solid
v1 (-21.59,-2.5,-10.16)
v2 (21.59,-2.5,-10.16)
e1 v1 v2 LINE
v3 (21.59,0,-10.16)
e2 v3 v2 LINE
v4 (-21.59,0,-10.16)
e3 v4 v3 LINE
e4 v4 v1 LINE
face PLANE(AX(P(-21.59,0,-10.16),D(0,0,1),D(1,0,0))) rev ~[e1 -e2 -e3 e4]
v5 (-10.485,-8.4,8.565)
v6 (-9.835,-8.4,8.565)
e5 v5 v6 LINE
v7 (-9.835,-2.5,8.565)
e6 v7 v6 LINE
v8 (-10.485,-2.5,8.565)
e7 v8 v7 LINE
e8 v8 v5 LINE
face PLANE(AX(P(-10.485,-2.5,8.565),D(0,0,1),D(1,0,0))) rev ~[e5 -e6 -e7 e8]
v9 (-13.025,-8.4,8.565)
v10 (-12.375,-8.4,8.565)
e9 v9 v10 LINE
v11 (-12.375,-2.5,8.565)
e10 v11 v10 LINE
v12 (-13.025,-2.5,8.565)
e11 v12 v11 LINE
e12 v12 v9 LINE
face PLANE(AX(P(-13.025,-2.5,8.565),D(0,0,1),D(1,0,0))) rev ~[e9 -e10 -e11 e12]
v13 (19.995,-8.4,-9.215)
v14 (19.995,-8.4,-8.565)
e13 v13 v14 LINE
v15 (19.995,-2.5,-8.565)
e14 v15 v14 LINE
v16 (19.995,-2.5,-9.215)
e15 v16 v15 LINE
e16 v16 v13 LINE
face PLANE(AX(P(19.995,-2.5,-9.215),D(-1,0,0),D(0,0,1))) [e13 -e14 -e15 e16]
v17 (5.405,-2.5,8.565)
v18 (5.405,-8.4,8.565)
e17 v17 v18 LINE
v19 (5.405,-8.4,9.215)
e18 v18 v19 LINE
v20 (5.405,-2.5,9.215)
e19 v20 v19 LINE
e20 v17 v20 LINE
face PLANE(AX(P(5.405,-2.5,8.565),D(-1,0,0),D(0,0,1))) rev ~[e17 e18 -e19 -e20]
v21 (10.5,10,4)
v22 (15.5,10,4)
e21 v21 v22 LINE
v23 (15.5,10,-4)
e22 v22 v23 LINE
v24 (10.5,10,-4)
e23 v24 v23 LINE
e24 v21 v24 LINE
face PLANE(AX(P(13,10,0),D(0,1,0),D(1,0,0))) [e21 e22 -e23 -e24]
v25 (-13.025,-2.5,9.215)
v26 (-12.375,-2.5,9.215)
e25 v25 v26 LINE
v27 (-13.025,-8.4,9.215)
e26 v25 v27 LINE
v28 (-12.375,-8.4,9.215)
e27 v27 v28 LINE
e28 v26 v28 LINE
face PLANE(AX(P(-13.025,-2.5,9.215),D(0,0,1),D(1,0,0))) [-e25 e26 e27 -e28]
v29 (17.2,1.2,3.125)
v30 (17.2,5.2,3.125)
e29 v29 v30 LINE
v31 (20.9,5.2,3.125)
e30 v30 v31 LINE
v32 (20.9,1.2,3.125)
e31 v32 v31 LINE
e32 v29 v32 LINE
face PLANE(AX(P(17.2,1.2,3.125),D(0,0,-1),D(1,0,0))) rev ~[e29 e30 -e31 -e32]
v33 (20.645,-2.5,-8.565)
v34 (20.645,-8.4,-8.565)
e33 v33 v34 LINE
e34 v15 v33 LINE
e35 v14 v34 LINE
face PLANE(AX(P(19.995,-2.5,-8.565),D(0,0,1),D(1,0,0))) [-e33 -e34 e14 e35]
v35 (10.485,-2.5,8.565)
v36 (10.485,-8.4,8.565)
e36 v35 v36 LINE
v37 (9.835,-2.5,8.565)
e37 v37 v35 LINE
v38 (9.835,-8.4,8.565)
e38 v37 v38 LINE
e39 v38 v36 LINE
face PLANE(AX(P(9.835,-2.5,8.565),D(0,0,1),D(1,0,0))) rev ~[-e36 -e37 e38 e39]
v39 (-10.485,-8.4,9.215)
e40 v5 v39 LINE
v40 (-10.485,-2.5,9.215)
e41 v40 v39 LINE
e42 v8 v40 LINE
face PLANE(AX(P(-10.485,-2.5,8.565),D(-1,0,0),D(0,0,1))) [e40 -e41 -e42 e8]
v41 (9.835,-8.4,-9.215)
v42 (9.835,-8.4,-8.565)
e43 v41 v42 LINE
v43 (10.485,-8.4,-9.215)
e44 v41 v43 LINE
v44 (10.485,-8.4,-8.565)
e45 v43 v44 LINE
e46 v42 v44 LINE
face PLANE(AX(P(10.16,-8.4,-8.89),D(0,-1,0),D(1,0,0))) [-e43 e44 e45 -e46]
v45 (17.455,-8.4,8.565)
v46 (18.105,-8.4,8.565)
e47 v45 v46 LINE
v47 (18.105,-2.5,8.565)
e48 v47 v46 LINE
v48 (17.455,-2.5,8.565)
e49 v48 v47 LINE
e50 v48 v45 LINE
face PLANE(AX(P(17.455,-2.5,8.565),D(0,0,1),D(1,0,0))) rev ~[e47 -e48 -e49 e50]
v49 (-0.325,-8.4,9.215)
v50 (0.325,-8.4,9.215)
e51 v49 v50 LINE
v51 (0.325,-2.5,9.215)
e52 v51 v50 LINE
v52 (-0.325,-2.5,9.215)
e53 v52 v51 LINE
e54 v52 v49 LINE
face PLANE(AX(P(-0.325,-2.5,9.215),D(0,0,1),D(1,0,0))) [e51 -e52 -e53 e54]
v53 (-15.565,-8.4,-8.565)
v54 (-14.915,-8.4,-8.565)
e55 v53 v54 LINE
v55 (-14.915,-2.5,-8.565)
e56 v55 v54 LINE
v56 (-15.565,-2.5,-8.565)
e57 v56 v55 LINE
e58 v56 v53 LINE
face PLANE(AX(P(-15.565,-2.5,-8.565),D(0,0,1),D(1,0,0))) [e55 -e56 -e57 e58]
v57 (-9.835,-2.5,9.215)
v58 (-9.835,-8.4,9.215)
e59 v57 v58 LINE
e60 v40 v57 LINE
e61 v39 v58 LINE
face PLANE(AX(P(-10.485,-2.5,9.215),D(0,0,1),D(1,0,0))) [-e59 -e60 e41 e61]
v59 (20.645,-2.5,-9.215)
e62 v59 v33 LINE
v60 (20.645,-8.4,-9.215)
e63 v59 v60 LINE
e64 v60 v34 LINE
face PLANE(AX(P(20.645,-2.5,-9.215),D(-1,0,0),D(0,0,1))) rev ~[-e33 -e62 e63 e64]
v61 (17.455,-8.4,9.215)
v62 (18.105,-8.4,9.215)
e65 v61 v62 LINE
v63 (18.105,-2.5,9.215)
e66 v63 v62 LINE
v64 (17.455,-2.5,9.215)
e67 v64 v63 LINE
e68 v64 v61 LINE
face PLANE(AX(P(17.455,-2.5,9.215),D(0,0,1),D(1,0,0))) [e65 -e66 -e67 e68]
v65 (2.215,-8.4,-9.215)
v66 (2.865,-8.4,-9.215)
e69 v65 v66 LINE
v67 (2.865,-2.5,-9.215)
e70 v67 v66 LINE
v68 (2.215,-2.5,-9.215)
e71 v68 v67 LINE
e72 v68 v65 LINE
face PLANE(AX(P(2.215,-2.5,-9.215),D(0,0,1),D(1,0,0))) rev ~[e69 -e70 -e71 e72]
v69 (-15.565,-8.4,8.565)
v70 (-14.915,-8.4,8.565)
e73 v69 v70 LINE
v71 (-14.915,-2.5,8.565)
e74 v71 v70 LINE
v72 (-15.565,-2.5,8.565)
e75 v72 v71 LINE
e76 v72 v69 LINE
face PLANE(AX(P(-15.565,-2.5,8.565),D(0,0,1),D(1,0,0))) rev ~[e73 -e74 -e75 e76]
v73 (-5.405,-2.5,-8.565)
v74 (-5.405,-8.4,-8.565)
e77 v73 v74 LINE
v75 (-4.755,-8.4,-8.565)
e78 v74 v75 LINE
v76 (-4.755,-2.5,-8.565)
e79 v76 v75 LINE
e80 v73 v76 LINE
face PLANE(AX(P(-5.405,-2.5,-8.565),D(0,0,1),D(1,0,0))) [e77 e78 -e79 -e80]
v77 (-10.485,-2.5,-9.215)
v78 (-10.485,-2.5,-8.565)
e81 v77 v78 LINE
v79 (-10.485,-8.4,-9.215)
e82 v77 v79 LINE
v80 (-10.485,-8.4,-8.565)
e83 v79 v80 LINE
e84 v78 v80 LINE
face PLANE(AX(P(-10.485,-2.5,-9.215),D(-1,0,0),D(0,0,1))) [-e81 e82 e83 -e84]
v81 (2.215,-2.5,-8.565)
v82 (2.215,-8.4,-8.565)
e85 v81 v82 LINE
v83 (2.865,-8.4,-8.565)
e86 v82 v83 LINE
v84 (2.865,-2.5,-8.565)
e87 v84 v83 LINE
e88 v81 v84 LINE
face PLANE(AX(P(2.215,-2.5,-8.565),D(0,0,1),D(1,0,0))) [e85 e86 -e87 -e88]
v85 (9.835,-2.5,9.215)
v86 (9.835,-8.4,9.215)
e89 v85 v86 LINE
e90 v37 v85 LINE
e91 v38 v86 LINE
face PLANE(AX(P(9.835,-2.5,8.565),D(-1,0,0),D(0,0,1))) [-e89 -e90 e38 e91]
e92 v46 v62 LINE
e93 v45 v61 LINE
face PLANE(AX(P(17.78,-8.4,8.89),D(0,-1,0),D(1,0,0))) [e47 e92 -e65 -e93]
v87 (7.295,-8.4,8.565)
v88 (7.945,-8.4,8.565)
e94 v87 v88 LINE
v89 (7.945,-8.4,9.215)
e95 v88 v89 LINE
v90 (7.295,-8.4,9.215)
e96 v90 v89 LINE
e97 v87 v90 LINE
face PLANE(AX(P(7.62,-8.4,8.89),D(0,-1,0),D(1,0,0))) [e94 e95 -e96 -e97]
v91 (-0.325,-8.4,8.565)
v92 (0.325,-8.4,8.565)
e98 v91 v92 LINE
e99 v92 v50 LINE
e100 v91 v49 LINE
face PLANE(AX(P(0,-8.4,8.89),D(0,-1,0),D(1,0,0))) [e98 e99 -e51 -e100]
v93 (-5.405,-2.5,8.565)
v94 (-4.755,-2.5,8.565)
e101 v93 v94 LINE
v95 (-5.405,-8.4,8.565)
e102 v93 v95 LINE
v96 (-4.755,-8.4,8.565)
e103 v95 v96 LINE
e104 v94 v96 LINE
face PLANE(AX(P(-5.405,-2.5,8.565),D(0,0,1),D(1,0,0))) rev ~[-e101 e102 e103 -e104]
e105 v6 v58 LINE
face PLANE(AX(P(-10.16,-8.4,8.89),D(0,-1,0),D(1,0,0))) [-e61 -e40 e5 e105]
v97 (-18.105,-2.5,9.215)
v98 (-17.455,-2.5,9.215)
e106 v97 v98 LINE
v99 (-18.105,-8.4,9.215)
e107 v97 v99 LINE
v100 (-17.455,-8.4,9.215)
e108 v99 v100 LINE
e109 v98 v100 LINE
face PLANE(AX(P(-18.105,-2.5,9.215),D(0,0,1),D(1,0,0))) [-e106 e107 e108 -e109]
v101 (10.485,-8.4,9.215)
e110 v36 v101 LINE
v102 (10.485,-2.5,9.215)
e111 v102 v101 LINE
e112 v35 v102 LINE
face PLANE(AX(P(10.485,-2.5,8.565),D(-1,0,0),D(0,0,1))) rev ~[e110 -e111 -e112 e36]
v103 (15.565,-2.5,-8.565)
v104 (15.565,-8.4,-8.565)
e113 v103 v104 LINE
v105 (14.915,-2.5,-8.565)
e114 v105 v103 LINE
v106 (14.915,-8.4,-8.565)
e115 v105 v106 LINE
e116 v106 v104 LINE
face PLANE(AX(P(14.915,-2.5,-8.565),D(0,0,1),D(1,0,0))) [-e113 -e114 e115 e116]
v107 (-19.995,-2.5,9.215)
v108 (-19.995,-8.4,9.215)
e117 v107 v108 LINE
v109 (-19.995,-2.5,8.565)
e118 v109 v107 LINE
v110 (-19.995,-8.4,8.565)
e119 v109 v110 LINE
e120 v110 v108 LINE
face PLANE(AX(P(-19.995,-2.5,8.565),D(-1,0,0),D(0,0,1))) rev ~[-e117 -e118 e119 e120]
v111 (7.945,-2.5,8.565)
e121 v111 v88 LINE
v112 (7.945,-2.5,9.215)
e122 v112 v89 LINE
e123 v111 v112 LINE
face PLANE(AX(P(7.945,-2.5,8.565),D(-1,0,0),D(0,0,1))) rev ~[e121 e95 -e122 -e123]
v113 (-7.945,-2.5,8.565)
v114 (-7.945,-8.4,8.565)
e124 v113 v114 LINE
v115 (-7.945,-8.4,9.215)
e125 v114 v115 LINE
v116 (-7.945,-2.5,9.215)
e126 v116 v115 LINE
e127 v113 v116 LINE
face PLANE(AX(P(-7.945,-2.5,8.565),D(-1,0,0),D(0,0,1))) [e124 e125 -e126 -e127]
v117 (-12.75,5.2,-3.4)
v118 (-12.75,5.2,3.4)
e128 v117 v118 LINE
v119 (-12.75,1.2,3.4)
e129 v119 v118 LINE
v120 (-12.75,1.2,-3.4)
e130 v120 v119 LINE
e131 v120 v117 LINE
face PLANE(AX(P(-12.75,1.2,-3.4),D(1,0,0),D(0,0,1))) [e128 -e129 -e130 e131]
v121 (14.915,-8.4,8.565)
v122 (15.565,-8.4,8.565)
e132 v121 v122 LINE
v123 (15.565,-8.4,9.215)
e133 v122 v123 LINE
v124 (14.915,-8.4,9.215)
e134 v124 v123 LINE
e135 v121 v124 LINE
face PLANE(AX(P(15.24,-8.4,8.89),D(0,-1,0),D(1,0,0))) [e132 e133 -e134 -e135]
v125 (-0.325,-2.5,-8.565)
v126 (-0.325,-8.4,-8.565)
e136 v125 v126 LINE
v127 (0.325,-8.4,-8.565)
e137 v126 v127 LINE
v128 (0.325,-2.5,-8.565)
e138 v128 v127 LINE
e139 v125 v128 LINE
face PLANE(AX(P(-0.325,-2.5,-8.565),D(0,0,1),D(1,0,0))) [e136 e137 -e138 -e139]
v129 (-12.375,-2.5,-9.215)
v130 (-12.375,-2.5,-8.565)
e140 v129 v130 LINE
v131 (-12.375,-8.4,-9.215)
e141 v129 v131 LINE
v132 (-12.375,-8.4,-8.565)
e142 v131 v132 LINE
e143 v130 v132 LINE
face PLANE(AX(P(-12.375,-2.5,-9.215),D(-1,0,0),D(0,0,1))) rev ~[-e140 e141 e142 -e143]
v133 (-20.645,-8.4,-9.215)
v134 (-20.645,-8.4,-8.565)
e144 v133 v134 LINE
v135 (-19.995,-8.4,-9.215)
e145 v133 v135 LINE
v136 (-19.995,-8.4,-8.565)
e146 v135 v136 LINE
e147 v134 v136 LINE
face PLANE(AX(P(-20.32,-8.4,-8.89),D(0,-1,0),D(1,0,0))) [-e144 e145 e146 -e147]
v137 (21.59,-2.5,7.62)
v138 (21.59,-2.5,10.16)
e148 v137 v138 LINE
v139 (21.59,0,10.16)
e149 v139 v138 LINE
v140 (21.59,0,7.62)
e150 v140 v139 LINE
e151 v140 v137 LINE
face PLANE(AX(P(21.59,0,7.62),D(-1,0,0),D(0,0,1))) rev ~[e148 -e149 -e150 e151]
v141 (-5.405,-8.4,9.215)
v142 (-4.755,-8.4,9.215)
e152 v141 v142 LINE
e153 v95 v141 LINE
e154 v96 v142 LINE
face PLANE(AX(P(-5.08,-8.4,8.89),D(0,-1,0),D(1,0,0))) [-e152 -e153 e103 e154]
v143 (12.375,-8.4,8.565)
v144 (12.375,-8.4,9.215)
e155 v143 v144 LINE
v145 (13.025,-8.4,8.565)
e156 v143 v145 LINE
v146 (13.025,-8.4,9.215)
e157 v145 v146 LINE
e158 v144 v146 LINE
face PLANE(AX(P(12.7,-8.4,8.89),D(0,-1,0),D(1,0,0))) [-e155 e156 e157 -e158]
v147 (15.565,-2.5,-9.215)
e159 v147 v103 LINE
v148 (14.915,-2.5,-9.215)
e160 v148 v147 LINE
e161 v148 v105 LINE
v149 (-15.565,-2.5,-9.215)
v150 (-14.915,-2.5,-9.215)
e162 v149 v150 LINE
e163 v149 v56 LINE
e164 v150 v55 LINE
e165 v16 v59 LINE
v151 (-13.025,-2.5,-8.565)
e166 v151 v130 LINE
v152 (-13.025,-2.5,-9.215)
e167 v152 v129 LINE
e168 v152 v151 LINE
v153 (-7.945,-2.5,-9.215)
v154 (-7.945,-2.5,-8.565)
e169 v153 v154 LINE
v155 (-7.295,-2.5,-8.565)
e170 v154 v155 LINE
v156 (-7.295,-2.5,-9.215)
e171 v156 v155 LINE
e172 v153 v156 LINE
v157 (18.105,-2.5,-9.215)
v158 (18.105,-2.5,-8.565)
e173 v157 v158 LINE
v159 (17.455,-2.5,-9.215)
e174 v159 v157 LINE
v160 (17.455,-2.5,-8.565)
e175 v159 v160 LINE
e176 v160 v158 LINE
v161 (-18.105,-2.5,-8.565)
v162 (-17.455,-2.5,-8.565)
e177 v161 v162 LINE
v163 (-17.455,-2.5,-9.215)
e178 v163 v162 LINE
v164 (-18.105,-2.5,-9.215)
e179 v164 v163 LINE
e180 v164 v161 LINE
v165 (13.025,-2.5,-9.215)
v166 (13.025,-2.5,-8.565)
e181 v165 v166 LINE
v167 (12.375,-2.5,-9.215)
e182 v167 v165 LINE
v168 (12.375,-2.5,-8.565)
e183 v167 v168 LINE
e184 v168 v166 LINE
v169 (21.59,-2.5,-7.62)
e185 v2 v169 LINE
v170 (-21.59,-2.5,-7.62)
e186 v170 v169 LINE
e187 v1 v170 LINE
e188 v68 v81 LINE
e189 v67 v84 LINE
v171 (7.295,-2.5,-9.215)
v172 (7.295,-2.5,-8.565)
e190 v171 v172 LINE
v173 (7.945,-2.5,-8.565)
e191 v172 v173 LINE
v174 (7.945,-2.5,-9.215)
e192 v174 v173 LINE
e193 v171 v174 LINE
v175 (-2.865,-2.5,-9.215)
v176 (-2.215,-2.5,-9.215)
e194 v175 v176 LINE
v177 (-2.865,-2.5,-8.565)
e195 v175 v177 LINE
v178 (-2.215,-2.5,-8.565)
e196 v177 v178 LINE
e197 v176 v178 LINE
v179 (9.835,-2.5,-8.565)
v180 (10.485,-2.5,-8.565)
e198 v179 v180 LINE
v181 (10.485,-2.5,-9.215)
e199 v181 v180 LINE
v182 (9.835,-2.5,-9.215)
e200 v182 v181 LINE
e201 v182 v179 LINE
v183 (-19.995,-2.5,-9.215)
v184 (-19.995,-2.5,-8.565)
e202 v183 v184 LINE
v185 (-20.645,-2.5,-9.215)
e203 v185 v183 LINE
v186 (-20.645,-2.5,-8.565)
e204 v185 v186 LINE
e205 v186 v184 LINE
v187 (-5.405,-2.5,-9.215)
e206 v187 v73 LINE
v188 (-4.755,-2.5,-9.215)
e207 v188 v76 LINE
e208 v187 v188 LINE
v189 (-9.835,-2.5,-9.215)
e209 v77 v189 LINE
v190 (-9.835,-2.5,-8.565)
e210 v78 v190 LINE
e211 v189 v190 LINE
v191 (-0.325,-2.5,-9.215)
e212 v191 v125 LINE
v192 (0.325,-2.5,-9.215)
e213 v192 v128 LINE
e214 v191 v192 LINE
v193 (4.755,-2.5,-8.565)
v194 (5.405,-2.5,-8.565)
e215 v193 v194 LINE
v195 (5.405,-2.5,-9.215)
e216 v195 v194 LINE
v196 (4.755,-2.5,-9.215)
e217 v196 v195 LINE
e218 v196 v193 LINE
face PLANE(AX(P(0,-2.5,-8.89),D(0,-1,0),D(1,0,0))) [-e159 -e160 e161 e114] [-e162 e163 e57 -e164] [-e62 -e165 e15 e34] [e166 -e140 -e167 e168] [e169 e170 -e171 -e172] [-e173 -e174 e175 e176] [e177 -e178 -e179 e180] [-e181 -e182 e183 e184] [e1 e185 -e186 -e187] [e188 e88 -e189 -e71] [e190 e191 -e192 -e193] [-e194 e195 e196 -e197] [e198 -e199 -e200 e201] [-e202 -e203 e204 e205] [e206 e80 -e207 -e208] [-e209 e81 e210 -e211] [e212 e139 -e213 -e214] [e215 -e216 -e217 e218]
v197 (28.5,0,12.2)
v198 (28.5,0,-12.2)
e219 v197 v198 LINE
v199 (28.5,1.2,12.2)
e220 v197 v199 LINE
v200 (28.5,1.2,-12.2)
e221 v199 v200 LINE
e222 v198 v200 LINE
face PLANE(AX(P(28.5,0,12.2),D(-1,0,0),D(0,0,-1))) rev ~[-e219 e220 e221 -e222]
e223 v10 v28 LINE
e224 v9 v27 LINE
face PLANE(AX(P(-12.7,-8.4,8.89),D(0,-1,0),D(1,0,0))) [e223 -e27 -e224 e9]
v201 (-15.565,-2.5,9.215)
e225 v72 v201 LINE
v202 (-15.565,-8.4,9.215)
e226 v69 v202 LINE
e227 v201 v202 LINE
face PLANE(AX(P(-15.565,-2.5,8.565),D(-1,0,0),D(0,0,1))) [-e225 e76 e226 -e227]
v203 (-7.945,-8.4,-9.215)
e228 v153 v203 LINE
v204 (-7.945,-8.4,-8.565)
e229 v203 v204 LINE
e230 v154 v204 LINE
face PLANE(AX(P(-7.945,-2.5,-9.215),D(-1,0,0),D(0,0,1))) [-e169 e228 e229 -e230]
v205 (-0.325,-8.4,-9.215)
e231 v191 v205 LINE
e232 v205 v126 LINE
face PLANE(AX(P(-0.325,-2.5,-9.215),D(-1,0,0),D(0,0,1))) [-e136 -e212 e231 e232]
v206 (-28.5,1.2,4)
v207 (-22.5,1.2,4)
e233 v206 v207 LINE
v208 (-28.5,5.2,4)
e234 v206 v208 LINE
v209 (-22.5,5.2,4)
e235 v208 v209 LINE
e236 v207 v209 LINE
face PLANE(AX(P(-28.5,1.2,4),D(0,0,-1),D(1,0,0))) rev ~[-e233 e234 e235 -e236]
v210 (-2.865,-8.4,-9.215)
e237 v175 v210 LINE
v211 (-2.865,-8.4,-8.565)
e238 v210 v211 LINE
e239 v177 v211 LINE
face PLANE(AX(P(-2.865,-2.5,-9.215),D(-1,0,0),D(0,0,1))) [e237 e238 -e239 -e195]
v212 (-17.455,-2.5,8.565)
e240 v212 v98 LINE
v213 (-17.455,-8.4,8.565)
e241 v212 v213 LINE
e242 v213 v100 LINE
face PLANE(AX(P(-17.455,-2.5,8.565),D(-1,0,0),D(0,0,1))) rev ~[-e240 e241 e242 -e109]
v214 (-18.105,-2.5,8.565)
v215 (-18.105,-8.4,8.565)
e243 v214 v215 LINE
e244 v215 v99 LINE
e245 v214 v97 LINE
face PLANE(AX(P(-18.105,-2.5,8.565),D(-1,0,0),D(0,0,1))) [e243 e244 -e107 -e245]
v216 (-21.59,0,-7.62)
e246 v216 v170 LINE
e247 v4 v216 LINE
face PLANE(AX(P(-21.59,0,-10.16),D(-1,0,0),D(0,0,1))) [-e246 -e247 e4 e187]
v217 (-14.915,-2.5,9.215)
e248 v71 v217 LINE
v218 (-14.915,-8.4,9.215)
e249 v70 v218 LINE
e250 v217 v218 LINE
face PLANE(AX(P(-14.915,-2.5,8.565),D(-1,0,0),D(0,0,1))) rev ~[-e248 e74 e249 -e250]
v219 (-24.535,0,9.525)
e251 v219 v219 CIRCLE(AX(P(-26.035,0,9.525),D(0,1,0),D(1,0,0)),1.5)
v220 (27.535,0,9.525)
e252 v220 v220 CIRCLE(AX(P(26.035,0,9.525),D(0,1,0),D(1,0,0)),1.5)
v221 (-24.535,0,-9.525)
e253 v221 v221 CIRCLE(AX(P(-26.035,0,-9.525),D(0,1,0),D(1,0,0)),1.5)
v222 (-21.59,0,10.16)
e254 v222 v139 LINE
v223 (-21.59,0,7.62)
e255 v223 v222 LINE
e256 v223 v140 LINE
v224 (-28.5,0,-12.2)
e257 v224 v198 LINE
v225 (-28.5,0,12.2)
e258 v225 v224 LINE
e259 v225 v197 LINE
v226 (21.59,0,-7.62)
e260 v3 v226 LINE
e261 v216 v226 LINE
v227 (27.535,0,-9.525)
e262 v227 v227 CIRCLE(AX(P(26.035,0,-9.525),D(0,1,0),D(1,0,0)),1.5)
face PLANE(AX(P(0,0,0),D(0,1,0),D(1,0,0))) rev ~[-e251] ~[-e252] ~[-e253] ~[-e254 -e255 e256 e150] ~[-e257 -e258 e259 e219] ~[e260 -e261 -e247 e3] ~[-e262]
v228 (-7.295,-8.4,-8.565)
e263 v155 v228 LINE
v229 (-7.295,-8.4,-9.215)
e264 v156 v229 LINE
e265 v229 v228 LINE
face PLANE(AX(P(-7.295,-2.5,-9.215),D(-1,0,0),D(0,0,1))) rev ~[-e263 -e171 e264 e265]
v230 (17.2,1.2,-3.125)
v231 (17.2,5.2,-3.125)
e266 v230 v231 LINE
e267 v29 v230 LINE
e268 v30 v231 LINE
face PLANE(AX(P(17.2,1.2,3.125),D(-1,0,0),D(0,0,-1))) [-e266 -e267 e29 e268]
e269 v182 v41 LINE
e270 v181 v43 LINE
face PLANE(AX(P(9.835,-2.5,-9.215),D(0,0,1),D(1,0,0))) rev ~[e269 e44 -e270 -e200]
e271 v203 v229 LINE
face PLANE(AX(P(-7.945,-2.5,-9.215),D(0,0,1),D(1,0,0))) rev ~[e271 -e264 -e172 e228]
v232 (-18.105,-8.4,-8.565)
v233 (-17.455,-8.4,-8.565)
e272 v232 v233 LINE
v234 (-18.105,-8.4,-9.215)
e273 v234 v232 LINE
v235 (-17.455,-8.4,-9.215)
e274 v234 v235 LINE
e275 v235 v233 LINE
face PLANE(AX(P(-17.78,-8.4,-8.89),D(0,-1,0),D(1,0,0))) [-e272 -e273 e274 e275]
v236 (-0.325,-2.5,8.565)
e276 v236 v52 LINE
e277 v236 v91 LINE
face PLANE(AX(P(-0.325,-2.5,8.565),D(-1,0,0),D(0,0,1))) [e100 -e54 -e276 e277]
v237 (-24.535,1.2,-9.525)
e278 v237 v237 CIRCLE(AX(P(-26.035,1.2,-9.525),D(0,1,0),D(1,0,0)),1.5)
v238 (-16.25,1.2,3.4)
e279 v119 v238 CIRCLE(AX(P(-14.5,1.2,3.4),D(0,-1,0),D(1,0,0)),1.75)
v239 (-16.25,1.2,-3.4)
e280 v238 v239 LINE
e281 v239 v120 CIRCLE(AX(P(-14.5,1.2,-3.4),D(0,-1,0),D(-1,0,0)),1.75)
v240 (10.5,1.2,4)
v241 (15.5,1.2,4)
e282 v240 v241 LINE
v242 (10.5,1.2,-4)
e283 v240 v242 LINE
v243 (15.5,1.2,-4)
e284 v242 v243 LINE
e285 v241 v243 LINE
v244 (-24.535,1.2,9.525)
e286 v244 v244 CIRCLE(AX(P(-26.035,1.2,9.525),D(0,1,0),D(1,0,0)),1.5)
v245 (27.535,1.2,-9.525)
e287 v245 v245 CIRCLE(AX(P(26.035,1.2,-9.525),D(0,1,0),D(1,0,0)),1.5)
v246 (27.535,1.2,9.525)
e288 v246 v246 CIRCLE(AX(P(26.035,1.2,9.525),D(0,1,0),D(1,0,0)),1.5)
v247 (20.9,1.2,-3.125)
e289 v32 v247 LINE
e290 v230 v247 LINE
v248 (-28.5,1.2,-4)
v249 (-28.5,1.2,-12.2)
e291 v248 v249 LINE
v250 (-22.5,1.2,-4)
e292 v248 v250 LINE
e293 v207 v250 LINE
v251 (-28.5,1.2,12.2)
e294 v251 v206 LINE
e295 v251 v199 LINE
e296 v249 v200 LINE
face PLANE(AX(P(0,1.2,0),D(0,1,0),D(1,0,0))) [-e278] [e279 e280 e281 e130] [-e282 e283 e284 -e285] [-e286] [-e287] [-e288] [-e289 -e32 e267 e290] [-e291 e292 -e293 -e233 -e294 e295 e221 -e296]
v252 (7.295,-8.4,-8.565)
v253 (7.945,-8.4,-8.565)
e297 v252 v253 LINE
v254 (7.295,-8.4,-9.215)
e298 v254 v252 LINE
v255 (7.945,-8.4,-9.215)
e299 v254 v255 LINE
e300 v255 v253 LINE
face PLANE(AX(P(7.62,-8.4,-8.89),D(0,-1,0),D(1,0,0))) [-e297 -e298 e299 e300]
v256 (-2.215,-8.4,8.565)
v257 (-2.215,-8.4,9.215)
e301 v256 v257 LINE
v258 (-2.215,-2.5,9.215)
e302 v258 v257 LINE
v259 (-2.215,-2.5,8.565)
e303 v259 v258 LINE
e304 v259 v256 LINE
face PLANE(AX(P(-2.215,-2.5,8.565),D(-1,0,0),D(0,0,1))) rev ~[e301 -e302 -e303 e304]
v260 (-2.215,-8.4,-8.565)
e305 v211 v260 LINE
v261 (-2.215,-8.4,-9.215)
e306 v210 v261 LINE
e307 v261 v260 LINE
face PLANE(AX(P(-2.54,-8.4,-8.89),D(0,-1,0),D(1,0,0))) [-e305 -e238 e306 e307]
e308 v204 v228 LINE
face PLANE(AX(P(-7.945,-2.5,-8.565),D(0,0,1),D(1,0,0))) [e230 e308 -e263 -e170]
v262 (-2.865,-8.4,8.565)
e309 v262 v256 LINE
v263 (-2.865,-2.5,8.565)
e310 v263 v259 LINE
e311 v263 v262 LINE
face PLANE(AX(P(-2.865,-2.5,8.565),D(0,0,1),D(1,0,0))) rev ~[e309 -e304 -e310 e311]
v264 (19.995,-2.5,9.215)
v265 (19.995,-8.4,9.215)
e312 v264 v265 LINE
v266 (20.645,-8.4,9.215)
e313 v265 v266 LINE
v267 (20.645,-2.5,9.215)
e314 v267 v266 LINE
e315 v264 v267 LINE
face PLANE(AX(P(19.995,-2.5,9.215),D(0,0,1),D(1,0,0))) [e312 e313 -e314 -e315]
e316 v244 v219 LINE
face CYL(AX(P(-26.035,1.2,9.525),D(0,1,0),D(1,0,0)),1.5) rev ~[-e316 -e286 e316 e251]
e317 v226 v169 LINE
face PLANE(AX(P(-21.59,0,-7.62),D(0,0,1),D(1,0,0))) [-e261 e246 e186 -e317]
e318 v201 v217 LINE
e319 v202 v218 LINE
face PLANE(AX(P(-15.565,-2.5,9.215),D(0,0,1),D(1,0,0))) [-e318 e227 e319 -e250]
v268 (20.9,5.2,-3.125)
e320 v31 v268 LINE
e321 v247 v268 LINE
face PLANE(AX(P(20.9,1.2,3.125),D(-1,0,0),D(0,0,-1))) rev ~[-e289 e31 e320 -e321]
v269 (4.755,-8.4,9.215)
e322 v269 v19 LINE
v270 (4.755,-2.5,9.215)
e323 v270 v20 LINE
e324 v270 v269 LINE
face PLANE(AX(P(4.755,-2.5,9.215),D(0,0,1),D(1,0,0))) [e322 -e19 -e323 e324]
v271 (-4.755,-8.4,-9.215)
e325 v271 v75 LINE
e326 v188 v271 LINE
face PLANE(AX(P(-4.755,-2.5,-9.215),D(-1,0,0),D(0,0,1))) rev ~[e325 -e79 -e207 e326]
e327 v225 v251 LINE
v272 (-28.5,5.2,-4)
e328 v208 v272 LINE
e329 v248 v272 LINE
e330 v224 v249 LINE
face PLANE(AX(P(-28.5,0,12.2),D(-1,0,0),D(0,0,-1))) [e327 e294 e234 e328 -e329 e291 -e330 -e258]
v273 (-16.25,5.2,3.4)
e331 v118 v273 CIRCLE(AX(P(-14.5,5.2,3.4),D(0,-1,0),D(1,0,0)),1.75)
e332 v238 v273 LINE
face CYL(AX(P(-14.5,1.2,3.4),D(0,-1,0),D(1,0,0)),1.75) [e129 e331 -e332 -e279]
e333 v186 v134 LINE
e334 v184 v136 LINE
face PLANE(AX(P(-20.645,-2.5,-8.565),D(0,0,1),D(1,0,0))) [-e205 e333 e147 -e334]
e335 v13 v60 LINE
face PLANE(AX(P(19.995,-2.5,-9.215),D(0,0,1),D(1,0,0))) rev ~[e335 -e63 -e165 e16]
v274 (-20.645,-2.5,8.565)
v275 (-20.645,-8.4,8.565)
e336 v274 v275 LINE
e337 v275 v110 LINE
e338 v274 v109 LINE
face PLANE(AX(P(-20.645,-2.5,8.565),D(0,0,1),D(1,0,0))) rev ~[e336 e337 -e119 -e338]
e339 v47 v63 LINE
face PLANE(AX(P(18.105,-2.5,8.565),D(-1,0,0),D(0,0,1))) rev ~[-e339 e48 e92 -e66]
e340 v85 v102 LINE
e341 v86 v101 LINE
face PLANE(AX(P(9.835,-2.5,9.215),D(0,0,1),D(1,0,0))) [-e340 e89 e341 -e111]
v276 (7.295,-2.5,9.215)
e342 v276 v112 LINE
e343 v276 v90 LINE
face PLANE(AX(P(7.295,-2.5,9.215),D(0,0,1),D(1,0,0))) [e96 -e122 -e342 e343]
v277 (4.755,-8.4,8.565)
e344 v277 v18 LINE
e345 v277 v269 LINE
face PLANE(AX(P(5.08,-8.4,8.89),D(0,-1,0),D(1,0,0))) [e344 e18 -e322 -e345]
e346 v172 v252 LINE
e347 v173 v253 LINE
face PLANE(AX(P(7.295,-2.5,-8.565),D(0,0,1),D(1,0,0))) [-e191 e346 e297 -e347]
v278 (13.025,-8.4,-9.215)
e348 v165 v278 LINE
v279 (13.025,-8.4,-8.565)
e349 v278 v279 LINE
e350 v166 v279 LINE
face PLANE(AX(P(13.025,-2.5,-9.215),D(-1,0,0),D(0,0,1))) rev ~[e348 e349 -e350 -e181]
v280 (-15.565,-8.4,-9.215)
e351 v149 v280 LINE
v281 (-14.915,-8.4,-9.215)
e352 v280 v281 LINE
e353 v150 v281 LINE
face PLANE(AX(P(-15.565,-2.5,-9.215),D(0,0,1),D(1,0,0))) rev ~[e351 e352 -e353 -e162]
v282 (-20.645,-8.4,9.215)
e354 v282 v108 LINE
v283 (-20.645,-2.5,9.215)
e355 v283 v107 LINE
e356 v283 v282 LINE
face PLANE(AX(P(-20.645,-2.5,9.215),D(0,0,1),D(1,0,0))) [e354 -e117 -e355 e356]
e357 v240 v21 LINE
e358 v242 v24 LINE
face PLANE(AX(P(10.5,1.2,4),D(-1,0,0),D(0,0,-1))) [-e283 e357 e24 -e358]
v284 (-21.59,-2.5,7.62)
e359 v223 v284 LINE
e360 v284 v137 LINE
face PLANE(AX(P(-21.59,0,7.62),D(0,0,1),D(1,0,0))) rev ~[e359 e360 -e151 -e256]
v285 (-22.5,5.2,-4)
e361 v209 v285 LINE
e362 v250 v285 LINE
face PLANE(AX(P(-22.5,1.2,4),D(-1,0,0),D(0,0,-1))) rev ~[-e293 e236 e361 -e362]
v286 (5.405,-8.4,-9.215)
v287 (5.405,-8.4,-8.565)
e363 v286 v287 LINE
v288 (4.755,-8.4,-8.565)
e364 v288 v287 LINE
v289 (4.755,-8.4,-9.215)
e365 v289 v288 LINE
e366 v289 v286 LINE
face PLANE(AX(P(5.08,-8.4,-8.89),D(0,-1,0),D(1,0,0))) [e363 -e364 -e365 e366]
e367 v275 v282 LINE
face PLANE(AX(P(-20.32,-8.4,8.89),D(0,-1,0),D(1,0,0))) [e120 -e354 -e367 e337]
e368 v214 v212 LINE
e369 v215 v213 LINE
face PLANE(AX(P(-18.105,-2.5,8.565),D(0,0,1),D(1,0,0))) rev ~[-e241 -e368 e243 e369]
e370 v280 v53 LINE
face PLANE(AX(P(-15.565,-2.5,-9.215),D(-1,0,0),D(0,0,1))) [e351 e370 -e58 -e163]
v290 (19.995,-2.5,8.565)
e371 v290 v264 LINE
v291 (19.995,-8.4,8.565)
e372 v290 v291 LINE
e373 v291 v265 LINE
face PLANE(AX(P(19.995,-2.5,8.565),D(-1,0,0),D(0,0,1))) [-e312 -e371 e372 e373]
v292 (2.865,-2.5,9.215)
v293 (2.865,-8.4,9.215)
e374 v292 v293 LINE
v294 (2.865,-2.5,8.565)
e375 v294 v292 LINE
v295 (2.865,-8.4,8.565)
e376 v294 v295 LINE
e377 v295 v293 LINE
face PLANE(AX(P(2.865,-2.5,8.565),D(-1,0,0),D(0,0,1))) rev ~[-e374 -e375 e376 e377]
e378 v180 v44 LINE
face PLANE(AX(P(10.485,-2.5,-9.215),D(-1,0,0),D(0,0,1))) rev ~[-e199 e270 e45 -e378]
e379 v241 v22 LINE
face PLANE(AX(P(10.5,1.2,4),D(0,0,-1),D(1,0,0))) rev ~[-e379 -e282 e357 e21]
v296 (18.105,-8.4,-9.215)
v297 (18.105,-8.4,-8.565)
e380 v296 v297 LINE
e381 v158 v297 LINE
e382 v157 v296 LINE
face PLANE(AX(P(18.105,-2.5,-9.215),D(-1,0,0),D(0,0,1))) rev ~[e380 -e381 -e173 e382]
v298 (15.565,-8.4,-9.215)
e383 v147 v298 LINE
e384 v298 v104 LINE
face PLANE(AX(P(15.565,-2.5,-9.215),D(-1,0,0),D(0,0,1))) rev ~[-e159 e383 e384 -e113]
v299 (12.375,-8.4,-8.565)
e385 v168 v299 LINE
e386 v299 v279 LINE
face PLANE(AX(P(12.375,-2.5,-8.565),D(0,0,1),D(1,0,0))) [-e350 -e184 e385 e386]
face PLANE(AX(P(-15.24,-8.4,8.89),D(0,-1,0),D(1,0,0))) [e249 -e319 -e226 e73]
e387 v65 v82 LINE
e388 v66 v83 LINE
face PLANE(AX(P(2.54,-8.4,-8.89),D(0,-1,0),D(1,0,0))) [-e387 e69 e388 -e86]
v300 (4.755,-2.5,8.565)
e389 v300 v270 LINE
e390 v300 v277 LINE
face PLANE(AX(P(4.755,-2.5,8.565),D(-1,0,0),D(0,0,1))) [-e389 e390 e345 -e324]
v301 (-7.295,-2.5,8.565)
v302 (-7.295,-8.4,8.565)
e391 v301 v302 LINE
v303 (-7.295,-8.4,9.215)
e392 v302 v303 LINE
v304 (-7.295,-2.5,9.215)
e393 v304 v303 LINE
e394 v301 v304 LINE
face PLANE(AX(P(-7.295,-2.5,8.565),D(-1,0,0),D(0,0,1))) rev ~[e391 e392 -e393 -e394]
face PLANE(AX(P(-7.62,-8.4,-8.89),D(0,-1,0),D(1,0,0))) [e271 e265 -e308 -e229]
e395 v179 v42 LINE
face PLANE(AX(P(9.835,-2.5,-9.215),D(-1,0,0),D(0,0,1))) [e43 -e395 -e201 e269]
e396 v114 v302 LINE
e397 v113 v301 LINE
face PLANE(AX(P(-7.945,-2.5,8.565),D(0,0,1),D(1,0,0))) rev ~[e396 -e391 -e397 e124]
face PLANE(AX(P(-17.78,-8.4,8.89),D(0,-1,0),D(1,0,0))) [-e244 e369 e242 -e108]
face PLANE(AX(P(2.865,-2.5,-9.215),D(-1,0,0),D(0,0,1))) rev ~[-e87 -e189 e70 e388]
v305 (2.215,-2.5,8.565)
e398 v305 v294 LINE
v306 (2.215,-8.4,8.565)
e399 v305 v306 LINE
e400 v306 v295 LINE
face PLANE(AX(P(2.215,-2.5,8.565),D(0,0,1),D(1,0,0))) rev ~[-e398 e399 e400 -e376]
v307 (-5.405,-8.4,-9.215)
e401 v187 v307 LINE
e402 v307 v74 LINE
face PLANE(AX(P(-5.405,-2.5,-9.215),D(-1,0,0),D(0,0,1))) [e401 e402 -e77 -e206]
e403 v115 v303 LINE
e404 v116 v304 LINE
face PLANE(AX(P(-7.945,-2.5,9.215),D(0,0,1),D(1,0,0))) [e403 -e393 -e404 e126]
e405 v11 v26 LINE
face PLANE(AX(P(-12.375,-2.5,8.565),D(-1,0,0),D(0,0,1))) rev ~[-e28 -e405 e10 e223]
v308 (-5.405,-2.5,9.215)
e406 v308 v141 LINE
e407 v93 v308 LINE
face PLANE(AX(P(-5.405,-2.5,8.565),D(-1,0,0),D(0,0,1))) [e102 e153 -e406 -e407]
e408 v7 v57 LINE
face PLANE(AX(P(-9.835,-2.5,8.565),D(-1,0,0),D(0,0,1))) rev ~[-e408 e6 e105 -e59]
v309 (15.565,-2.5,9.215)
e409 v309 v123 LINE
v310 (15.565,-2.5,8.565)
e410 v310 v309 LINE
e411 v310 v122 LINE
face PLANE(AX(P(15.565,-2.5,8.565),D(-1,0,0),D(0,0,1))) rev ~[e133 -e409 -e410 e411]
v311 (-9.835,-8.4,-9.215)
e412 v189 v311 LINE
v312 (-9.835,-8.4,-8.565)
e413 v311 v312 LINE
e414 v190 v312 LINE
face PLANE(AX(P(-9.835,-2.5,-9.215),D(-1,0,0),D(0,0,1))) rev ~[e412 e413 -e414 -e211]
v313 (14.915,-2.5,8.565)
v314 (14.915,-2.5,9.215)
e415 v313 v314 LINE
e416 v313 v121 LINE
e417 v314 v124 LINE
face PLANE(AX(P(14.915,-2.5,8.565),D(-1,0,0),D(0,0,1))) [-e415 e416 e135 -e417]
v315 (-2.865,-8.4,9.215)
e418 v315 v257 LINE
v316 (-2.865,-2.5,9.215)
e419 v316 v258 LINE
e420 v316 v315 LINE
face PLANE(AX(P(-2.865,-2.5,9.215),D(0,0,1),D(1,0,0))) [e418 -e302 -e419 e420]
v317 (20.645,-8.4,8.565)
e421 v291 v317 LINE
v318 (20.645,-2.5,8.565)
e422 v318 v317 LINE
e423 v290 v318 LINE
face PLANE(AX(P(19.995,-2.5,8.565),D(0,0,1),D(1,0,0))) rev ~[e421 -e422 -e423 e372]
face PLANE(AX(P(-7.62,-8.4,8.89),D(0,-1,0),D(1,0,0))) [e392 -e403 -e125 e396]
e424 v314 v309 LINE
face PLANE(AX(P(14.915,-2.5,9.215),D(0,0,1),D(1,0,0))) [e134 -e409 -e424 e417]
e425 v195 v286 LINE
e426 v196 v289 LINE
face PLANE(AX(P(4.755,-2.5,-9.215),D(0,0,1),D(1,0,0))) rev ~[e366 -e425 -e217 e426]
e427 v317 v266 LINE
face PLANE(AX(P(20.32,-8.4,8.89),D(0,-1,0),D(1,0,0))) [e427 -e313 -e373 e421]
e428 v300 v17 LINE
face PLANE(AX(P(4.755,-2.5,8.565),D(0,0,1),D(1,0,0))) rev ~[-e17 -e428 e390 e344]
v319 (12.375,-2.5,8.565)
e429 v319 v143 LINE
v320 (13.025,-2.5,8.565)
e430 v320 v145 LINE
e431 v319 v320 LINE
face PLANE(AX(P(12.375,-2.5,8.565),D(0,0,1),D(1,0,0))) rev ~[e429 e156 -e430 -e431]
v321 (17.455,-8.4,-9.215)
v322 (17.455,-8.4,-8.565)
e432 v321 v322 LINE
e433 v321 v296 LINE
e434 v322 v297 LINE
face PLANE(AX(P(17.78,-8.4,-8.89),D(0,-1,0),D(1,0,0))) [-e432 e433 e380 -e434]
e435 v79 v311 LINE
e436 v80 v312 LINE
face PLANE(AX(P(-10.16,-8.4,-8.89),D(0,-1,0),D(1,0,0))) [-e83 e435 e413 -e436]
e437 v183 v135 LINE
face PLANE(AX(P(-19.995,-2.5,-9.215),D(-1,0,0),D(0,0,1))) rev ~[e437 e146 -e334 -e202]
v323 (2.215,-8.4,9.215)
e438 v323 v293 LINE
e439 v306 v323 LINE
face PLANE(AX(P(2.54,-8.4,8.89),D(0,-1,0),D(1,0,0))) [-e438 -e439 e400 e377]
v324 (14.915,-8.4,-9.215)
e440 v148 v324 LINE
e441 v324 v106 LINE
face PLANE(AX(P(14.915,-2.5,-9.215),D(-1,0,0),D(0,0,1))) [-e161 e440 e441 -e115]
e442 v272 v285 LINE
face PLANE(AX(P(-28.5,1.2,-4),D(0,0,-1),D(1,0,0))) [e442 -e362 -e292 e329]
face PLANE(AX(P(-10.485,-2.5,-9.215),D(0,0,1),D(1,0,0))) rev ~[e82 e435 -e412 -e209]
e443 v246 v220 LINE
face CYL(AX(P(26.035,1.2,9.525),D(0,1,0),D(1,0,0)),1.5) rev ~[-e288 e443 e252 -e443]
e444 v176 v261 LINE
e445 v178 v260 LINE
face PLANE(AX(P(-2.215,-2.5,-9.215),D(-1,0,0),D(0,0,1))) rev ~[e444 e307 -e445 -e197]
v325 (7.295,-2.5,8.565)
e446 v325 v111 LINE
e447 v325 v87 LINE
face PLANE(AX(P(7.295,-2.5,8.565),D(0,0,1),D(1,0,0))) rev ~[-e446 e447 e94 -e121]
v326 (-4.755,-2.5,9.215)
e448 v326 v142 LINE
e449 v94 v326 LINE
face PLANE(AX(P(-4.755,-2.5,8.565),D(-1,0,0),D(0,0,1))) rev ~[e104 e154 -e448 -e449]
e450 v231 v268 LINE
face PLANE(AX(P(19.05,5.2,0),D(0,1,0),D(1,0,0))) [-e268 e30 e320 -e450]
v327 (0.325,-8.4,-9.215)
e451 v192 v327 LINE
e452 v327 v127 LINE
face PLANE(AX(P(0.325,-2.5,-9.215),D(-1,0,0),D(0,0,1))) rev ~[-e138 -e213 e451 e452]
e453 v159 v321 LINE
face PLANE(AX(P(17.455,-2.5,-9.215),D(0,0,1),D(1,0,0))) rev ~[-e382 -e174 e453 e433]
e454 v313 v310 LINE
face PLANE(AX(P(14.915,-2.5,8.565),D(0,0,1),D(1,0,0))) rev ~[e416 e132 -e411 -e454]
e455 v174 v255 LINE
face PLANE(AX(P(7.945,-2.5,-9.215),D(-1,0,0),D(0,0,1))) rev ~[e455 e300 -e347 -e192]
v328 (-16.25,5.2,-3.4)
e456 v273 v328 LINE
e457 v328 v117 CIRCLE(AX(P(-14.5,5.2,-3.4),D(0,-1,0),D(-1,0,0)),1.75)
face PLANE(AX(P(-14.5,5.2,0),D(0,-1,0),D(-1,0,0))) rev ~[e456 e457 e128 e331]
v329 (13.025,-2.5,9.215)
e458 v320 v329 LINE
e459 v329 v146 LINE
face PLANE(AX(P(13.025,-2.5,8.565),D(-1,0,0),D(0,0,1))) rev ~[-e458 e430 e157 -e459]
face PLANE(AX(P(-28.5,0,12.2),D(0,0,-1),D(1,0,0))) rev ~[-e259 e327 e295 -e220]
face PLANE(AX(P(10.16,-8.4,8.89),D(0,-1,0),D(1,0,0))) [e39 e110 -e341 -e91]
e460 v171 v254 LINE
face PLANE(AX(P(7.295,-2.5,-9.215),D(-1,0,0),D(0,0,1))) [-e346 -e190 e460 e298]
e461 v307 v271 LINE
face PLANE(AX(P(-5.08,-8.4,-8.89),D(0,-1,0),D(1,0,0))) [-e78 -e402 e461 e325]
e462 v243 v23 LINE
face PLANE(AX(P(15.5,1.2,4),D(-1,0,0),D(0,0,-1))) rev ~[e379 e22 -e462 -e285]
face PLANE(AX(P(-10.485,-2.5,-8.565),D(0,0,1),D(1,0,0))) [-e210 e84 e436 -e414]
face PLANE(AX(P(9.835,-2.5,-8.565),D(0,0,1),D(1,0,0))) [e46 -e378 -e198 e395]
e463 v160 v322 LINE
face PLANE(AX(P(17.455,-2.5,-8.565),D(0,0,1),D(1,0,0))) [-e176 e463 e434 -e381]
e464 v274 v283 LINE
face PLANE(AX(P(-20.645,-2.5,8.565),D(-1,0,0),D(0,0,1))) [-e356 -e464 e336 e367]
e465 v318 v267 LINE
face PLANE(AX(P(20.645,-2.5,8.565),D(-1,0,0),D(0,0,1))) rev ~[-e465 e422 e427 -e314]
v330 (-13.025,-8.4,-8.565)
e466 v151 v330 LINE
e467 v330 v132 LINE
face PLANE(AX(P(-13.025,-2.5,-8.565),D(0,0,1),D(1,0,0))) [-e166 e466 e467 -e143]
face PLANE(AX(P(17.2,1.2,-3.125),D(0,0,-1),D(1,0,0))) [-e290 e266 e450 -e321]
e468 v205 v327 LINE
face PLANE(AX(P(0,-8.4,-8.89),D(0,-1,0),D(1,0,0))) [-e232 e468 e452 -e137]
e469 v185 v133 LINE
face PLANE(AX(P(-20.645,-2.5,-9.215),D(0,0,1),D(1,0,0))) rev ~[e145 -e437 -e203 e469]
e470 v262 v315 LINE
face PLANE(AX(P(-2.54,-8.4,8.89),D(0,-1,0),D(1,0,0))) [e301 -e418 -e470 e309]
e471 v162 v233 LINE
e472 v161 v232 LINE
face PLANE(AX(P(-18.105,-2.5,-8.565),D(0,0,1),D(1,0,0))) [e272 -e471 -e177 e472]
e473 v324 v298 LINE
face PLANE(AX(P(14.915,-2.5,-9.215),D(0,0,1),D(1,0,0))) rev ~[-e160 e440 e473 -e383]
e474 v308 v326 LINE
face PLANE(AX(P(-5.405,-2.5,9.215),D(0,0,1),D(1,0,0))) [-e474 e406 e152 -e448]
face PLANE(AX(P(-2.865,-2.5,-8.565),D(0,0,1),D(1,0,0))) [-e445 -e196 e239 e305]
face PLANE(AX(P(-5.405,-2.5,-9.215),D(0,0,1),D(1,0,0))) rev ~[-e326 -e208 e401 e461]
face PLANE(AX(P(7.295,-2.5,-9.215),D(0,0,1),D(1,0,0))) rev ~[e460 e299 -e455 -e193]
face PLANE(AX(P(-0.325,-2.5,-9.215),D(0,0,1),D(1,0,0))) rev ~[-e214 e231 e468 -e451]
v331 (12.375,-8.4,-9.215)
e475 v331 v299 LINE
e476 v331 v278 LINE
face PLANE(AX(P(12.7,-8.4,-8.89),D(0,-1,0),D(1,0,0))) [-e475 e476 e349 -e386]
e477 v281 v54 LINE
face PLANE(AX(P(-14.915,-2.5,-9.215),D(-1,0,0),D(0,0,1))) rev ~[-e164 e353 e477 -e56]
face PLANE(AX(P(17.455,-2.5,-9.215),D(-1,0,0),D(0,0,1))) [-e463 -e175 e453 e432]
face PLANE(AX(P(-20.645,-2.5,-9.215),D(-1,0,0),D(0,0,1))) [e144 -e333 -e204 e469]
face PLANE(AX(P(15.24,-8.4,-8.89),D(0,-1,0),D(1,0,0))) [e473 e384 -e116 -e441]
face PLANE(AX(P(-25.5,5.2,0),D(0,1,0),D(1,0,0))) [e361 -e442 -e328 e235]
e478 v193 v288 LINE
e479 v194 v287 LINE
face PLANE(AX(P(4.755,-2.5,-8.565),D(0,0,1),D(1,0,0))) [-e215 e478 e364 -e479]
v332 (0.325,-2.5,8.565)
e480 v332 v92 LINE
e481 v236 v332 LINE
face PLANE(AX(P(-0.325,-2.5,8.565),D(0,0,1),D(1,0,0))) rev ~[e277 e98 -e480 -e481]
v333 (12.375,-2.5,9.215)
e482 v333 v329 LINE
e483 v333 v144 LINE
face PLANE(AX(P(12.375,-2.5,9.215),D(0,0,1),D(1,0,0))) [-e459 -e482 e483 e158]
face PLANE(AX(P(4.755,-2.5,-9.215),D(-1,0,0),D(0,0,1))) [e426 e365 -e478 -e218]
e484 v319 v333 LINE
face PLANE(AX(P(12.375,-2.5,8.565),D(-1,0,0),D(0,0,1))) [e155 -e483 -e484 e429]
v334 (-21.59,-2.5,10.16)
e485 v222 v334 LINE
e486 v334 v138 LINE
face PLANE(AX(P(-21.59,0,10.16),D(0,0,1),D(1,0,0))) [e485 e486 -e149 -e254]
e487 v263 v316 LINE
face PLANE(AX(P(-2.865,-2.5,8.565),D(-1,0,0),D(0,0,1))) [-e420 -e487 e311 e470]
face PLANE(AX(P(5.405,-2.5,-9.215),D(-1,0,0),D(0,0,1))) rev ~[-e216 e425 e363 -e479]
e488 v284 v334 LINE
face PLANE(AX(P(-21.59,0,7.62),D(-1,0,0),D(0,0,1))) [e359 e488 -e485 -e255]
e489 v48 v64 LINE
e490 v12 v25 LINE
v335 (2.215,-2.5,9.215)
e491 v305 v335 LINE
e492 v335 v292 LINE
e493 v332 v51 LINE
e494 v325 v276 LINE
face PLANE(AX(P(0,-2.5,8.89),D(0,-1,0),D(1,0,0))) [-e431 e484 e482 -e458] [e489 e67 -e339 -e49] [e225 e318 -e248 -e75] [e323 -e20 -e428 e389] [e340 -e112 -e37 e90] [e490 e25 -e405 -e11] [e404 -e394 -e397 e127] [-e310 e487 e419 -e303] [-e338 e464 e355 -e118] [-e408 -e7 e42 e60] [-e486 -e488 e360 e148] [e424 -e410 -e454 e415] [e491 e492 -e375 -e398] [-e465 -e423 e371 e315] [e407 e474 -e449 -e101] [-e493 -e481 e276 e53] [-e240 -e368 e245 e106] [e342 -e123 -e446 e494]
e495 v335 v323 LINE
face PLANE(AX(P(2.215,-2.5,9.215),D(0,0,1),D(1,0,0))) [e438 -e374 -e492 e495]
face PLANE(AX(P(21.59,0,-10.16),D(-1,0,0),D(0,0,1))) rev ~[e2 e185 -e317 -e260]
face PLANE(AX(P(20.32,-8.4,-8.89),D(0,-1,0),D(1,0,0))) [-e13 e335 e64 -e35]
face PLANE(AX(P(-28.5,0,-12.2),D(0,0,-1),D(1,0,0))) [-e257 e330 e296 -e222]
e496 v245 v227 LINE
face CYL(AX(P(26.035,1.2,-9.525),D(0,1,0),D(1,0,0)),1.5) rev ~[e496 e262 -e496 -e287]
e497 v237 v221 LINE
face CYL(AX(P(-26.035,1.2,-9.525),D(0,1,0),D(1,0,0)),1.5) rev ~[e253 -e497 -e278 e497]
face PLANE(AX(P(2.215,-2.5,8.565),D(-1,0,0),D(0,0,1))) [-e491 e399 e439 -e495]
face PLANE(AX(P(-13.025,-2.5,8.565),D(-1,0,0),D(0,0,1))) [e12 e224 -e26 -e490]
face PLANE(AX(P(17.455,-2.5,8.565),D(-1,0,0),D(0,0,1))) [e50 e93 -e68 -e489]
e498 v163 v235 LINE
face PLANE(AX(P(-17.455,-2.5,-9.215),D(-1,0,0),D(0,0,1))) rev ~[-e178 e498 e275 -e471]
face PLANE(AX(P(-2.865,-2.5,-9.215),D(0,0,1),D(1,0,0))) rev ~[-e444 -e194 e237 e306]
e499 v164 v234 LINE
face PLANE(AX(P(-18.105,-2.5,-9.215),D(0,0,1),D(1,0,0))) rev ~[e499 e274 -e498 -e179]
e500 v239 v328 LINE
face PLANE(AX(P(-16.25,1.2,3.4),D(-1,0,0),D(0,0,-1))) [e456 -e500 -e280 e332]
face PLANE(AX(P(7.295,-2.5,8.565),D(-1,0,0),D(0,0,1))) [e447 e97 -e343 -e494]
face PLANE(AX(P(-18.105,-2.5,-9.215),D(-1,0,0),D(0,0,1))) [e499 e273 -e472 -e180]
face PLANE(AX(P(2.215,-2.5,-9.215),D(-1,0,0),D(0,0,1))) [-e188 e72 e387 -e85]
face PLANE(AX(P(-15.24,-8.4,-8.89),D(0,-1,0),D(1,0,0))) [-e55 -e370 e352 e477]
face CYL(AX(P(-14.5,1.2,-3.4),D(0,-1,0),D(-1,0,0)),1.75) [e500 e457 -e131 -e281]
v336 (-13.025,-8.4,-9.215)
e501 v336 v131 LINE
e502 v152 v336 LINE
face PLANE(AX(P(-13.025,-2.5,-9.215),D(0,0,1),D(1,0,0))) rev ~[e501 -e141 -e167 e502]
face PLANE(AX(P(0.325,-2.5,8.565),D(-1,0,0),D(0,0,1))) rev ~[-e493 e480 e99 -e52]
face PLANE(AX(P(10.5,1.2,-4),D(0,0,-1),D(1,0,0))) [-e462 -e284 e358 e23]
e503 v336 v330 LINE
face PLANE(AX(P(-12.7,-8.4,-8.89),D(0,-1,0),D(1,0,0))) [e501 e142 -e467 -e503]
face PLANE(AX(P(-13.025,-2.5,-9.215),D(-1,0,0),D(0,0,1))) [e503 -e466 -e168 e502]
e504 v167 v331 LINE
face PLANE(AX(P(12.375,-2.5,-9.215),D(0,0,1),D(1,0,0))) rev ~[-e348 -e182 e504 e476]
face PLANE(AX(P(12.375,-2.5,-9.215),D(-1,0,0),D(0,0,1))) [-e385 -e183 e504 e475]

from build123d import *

# Parameters (mm, degrees)
SKETCH1_W           = 57
SKETCH1_H           = 24.4
BOSS_EXTRUDE1_DEPTH = 1.2
SKETCH2_R           = 1.5
CUT_EXTRUDE1_DEPTH  = 2.2
SKETCH3_W           = 6
SKETCH3_H           = 8
BOSS_EXTRUDE2_DEPTH = 4
BOSS_EXTRUDE3_DEPTH = 4
SKETCH5_W           = 5
SKETCH5_H           = 8
BOSS_EXTRUDE4_DEPTH = 8.8
SKETCH6_W           = 3.7
SKETCH6_H           = 6.25
BOSS_EXTRUDE5_DEPTH = 4
SKETCH7_W           = 43.18
SKETCH7_H           = 2.54
BOSS_EXTRUDE6_DEPTH = 2.5
SKETCH8_W           = 0.65
SKETCH8_H           = 0.65
BOSS_EXTRUDE7_DEPTH = 5.9


with BuildPart() as part:
    # Sketch1 → Boss-Extrude1 (new body)
    with BuildSketch(Plane(origin=(0, 0, 0), x_dir=(1, 0, 0), z_dir=(0, 1, 0))):
        Rectangle(SKETCH1_W, SKETCH1_H)
    extrude(amount=BOSS_EXTRUDE1_DEPTH)

    # Sketch2 → Cut-Extrude1 (cut, through all)
    with BuildSketch(Plane(origin=(0, 1.2, 0), x_dir=(1, 0, 0), z_dir=(0, 1, 0))):
        with Locations((-26.035, -9.525)):
            Circle(SKETCH2_R)
        with Locations((26.035, -9.525)):
            Circle(SKETCH2_R)
        with Locations((26.035, 9.525)):
            Circle(SKETCH2_R)
        with Locations((-26.035, 9.525)):
            Circle(SKETCH2_R)
    extrude(amount=-CUT_EXTRUDE1_DEPTH, mode=Mode.SUBTRACT)

    # Sketch3 → Boss-Extrude2 (add)
    with BuildSketch(Plane(origin=(0, 1.2, 0), x_dir=(1, 0, 0), z_dir=(0, 1, 0))):
        with Locations((-25.5, 0)):
            Rectangle(SKETCH3_W, SKETCH3_H)
    extrude(amount=BOSS_EXTRUDE2_DEPTH)

    # Sketch4 → Boss-Extrude3 (add)
    with BuildSketch(Plane(origin=(0, 1.2, 0), x_dir=(1, 0, 0), z_dir=(0, 1, 0))):
        with BuildLine():
            Line((-16.25, -3.4), (-16.25, 3.4))
            ThreePointArc((-16.25, 3.4), (-14.5, 5.15), (-12.75, 3.4))
            Line((-12.75, 3.4), (-12.75, -3.4))
            ThreePointArc((-12.75, -3.4), (-14.5, -5.15), (-16.25, -3.4))
        make_face()
    extrude(amount=BOSS_EXTRUDE3_DEPTH)

    # Sketch5 → Boss-Extrude4 (add)
    with BuildSketch(Plane(origin=(0, 1.2, 0), x_dir=(1, 0, 0), z_dir=(0, 1, 0))):
        with Locations((13, 0)):
            Rectangle(SKETCH5_W, SKETCH5_H)
    extrude(amount=BOSS_EXTRUDE4_DEPTH)

    # Sketch6 → Boss-Extrude5 (add)
    with BuildSketch(Plane(origin=(0, 1.2, 0), x_dir=(1, 0, 0), z_dir=(0, 1, 0))):
        with Locations((19.05, 0)):
            Rectangle(SKETCH6_W, SKETCH6_H)
    extrude(amount=BOSS_EXTRUDE5_DEPTH)

    # Sketch7 → Boss-Extrude6 (add)
    with BuildSketch(Plane.XZ):
        with Locations((0, 8.89)):
            Rectangle(SKETCH7_W, SKETCH7_H)
        with Locations((0, -8.89)):
            Rectangle(SKETCH7_W, SKETCH7_H)
    extrude(amount=BOSS_EXTRUDE6_DEPTH)

    # Sketch8 → Boss-Extrude7 (add)
    with BuildSketch(Plane.XZ.offset(2.5)):
        with Locations((-17.78, 8.89)):
            Rectangle(SKETCH8_W, SKETCH8_H)
        with Locations((-20.32, 8.89)):
            Rectangle(SKETCH8_W, SKETCH8_H)
        with Locations((-15.24, 8.89)):
            Rectangle(SKETCH8_W, SKETCH8_H)
        with Locations((-12.7, 8.89)):
            Rectangle(SKETCH8_W, SKETCH8_H)
        with Locations((-10.16, 8.89)):
            Rectangle(SKETCH8_W, SKETCH8_H)
        with Locations((-7.62, 8.89)):
            Rectangle(SKETCH8_W, SKETCH8_H)
        with Locations((-5.08, 8.89)):
            Rectangle(SKETCH8_W, SKETCH8_H)
        with Locations((-2.54, 8.89)):
            Rectangle(SKETCH8_W, SKETCH8_H)
        with Locations((0, 8.89)):
            Rectangle(SKETCH8_W, SKETCH8_H)
        with Locations((2.54, 8.89)):
            Rectangle(SKETCH8_W, SKETCH8_H)
        with Locations((5.08, 8.89)):
            Rectangle(SKETCH8_W, SKETCH8_H)
        with Locations((7.62, 8.89)):
            Rectangle(SKETCH8_W, SKETCH8_H)
        with Locations((10.16, 8.89)):
            Rectangle(SKETCH8_W, SKETCH8_H)
        with Locations((12.7, 8.89)):
            Rectangle(SKETCH8_W, SKETCH8_H)
        with Locations((15.24, 8.89)):
            Rectangle(SKETCH8_W, SKETCH8_H)
        with Locations((17.78, 8.89)):
            Rectangle(SKETCH8_W, SKETCH8_H)
        with Locations((20.32, 8.89)):
            Rectangle(SKETCH8_W, SKETCH8_H)
        with Locations((20.32, -8.89)):
            Rectangle(SKETCH8_W, SKETCH8_H)
        with Locations((17.78, -8.89)):
            Rectangle(SKETCH8_W, SKETCH8_H)
        with Locations((15.24, -8.89)):
            Rectangle(SKETCH8_W, SKETCH8_H)
        with Locations((12.7, -8.89)):
            Rectangle(SKETCH8_W, SKETCH8_H)
        with Locations((10.16, -8.89)):
            Rectangle(SKETCH8_W, SKETCH8_H)
        with Locations((7.62, -8.89)):
            Rectangle(SKETCH8_W, SKETCH8_H)
        with Locations((5.08, -8.89)):
            Rectangle(SKETCH8_W, SKETCH8_H)
        with Locations((2.54, -8.89)):
            Rectangle(SKETCH8_W, SKETCH8_H)
        with Locations((0, -8.89)):
            Rectangle(SKETCH8_W, SKETCH8_H)
        with Locations((-2.54, -8.89)):
            Rectangle(SKETCH8_W, SKETCH8_H)
        with Locations((-5.08, -8.89)):
            Rectangle(SKETCH8_W, SKETCH8_H)
        with Locations((-7.62, -8.89)):
            Rectangle(SKETCH8_W, SKETCH8_H)
        with Locations((-10.16, -8.89)):
            Rectangle(SKETCH8_W, SKETCH8_H)
        with Locations((-12.7, -8.89)):
            Rectangle(SKETCH8_W, SKETCH8_H)
        with Locations((-15.24, -8.89)):
            Rectangle(SKETCH8_W, SKETCH8_H)
        with Locations((-17.78, -8.89)):
            Rectangle(SKETCH8_W, SKETCH8_H)
        with Locations((-20.32, -8.89)):
            Rectangle(SKETCH8_W, SKETCH8_H)
    extrude(amount=BOSS_EXTRUDE7_DEPTH)


solid = part.part
